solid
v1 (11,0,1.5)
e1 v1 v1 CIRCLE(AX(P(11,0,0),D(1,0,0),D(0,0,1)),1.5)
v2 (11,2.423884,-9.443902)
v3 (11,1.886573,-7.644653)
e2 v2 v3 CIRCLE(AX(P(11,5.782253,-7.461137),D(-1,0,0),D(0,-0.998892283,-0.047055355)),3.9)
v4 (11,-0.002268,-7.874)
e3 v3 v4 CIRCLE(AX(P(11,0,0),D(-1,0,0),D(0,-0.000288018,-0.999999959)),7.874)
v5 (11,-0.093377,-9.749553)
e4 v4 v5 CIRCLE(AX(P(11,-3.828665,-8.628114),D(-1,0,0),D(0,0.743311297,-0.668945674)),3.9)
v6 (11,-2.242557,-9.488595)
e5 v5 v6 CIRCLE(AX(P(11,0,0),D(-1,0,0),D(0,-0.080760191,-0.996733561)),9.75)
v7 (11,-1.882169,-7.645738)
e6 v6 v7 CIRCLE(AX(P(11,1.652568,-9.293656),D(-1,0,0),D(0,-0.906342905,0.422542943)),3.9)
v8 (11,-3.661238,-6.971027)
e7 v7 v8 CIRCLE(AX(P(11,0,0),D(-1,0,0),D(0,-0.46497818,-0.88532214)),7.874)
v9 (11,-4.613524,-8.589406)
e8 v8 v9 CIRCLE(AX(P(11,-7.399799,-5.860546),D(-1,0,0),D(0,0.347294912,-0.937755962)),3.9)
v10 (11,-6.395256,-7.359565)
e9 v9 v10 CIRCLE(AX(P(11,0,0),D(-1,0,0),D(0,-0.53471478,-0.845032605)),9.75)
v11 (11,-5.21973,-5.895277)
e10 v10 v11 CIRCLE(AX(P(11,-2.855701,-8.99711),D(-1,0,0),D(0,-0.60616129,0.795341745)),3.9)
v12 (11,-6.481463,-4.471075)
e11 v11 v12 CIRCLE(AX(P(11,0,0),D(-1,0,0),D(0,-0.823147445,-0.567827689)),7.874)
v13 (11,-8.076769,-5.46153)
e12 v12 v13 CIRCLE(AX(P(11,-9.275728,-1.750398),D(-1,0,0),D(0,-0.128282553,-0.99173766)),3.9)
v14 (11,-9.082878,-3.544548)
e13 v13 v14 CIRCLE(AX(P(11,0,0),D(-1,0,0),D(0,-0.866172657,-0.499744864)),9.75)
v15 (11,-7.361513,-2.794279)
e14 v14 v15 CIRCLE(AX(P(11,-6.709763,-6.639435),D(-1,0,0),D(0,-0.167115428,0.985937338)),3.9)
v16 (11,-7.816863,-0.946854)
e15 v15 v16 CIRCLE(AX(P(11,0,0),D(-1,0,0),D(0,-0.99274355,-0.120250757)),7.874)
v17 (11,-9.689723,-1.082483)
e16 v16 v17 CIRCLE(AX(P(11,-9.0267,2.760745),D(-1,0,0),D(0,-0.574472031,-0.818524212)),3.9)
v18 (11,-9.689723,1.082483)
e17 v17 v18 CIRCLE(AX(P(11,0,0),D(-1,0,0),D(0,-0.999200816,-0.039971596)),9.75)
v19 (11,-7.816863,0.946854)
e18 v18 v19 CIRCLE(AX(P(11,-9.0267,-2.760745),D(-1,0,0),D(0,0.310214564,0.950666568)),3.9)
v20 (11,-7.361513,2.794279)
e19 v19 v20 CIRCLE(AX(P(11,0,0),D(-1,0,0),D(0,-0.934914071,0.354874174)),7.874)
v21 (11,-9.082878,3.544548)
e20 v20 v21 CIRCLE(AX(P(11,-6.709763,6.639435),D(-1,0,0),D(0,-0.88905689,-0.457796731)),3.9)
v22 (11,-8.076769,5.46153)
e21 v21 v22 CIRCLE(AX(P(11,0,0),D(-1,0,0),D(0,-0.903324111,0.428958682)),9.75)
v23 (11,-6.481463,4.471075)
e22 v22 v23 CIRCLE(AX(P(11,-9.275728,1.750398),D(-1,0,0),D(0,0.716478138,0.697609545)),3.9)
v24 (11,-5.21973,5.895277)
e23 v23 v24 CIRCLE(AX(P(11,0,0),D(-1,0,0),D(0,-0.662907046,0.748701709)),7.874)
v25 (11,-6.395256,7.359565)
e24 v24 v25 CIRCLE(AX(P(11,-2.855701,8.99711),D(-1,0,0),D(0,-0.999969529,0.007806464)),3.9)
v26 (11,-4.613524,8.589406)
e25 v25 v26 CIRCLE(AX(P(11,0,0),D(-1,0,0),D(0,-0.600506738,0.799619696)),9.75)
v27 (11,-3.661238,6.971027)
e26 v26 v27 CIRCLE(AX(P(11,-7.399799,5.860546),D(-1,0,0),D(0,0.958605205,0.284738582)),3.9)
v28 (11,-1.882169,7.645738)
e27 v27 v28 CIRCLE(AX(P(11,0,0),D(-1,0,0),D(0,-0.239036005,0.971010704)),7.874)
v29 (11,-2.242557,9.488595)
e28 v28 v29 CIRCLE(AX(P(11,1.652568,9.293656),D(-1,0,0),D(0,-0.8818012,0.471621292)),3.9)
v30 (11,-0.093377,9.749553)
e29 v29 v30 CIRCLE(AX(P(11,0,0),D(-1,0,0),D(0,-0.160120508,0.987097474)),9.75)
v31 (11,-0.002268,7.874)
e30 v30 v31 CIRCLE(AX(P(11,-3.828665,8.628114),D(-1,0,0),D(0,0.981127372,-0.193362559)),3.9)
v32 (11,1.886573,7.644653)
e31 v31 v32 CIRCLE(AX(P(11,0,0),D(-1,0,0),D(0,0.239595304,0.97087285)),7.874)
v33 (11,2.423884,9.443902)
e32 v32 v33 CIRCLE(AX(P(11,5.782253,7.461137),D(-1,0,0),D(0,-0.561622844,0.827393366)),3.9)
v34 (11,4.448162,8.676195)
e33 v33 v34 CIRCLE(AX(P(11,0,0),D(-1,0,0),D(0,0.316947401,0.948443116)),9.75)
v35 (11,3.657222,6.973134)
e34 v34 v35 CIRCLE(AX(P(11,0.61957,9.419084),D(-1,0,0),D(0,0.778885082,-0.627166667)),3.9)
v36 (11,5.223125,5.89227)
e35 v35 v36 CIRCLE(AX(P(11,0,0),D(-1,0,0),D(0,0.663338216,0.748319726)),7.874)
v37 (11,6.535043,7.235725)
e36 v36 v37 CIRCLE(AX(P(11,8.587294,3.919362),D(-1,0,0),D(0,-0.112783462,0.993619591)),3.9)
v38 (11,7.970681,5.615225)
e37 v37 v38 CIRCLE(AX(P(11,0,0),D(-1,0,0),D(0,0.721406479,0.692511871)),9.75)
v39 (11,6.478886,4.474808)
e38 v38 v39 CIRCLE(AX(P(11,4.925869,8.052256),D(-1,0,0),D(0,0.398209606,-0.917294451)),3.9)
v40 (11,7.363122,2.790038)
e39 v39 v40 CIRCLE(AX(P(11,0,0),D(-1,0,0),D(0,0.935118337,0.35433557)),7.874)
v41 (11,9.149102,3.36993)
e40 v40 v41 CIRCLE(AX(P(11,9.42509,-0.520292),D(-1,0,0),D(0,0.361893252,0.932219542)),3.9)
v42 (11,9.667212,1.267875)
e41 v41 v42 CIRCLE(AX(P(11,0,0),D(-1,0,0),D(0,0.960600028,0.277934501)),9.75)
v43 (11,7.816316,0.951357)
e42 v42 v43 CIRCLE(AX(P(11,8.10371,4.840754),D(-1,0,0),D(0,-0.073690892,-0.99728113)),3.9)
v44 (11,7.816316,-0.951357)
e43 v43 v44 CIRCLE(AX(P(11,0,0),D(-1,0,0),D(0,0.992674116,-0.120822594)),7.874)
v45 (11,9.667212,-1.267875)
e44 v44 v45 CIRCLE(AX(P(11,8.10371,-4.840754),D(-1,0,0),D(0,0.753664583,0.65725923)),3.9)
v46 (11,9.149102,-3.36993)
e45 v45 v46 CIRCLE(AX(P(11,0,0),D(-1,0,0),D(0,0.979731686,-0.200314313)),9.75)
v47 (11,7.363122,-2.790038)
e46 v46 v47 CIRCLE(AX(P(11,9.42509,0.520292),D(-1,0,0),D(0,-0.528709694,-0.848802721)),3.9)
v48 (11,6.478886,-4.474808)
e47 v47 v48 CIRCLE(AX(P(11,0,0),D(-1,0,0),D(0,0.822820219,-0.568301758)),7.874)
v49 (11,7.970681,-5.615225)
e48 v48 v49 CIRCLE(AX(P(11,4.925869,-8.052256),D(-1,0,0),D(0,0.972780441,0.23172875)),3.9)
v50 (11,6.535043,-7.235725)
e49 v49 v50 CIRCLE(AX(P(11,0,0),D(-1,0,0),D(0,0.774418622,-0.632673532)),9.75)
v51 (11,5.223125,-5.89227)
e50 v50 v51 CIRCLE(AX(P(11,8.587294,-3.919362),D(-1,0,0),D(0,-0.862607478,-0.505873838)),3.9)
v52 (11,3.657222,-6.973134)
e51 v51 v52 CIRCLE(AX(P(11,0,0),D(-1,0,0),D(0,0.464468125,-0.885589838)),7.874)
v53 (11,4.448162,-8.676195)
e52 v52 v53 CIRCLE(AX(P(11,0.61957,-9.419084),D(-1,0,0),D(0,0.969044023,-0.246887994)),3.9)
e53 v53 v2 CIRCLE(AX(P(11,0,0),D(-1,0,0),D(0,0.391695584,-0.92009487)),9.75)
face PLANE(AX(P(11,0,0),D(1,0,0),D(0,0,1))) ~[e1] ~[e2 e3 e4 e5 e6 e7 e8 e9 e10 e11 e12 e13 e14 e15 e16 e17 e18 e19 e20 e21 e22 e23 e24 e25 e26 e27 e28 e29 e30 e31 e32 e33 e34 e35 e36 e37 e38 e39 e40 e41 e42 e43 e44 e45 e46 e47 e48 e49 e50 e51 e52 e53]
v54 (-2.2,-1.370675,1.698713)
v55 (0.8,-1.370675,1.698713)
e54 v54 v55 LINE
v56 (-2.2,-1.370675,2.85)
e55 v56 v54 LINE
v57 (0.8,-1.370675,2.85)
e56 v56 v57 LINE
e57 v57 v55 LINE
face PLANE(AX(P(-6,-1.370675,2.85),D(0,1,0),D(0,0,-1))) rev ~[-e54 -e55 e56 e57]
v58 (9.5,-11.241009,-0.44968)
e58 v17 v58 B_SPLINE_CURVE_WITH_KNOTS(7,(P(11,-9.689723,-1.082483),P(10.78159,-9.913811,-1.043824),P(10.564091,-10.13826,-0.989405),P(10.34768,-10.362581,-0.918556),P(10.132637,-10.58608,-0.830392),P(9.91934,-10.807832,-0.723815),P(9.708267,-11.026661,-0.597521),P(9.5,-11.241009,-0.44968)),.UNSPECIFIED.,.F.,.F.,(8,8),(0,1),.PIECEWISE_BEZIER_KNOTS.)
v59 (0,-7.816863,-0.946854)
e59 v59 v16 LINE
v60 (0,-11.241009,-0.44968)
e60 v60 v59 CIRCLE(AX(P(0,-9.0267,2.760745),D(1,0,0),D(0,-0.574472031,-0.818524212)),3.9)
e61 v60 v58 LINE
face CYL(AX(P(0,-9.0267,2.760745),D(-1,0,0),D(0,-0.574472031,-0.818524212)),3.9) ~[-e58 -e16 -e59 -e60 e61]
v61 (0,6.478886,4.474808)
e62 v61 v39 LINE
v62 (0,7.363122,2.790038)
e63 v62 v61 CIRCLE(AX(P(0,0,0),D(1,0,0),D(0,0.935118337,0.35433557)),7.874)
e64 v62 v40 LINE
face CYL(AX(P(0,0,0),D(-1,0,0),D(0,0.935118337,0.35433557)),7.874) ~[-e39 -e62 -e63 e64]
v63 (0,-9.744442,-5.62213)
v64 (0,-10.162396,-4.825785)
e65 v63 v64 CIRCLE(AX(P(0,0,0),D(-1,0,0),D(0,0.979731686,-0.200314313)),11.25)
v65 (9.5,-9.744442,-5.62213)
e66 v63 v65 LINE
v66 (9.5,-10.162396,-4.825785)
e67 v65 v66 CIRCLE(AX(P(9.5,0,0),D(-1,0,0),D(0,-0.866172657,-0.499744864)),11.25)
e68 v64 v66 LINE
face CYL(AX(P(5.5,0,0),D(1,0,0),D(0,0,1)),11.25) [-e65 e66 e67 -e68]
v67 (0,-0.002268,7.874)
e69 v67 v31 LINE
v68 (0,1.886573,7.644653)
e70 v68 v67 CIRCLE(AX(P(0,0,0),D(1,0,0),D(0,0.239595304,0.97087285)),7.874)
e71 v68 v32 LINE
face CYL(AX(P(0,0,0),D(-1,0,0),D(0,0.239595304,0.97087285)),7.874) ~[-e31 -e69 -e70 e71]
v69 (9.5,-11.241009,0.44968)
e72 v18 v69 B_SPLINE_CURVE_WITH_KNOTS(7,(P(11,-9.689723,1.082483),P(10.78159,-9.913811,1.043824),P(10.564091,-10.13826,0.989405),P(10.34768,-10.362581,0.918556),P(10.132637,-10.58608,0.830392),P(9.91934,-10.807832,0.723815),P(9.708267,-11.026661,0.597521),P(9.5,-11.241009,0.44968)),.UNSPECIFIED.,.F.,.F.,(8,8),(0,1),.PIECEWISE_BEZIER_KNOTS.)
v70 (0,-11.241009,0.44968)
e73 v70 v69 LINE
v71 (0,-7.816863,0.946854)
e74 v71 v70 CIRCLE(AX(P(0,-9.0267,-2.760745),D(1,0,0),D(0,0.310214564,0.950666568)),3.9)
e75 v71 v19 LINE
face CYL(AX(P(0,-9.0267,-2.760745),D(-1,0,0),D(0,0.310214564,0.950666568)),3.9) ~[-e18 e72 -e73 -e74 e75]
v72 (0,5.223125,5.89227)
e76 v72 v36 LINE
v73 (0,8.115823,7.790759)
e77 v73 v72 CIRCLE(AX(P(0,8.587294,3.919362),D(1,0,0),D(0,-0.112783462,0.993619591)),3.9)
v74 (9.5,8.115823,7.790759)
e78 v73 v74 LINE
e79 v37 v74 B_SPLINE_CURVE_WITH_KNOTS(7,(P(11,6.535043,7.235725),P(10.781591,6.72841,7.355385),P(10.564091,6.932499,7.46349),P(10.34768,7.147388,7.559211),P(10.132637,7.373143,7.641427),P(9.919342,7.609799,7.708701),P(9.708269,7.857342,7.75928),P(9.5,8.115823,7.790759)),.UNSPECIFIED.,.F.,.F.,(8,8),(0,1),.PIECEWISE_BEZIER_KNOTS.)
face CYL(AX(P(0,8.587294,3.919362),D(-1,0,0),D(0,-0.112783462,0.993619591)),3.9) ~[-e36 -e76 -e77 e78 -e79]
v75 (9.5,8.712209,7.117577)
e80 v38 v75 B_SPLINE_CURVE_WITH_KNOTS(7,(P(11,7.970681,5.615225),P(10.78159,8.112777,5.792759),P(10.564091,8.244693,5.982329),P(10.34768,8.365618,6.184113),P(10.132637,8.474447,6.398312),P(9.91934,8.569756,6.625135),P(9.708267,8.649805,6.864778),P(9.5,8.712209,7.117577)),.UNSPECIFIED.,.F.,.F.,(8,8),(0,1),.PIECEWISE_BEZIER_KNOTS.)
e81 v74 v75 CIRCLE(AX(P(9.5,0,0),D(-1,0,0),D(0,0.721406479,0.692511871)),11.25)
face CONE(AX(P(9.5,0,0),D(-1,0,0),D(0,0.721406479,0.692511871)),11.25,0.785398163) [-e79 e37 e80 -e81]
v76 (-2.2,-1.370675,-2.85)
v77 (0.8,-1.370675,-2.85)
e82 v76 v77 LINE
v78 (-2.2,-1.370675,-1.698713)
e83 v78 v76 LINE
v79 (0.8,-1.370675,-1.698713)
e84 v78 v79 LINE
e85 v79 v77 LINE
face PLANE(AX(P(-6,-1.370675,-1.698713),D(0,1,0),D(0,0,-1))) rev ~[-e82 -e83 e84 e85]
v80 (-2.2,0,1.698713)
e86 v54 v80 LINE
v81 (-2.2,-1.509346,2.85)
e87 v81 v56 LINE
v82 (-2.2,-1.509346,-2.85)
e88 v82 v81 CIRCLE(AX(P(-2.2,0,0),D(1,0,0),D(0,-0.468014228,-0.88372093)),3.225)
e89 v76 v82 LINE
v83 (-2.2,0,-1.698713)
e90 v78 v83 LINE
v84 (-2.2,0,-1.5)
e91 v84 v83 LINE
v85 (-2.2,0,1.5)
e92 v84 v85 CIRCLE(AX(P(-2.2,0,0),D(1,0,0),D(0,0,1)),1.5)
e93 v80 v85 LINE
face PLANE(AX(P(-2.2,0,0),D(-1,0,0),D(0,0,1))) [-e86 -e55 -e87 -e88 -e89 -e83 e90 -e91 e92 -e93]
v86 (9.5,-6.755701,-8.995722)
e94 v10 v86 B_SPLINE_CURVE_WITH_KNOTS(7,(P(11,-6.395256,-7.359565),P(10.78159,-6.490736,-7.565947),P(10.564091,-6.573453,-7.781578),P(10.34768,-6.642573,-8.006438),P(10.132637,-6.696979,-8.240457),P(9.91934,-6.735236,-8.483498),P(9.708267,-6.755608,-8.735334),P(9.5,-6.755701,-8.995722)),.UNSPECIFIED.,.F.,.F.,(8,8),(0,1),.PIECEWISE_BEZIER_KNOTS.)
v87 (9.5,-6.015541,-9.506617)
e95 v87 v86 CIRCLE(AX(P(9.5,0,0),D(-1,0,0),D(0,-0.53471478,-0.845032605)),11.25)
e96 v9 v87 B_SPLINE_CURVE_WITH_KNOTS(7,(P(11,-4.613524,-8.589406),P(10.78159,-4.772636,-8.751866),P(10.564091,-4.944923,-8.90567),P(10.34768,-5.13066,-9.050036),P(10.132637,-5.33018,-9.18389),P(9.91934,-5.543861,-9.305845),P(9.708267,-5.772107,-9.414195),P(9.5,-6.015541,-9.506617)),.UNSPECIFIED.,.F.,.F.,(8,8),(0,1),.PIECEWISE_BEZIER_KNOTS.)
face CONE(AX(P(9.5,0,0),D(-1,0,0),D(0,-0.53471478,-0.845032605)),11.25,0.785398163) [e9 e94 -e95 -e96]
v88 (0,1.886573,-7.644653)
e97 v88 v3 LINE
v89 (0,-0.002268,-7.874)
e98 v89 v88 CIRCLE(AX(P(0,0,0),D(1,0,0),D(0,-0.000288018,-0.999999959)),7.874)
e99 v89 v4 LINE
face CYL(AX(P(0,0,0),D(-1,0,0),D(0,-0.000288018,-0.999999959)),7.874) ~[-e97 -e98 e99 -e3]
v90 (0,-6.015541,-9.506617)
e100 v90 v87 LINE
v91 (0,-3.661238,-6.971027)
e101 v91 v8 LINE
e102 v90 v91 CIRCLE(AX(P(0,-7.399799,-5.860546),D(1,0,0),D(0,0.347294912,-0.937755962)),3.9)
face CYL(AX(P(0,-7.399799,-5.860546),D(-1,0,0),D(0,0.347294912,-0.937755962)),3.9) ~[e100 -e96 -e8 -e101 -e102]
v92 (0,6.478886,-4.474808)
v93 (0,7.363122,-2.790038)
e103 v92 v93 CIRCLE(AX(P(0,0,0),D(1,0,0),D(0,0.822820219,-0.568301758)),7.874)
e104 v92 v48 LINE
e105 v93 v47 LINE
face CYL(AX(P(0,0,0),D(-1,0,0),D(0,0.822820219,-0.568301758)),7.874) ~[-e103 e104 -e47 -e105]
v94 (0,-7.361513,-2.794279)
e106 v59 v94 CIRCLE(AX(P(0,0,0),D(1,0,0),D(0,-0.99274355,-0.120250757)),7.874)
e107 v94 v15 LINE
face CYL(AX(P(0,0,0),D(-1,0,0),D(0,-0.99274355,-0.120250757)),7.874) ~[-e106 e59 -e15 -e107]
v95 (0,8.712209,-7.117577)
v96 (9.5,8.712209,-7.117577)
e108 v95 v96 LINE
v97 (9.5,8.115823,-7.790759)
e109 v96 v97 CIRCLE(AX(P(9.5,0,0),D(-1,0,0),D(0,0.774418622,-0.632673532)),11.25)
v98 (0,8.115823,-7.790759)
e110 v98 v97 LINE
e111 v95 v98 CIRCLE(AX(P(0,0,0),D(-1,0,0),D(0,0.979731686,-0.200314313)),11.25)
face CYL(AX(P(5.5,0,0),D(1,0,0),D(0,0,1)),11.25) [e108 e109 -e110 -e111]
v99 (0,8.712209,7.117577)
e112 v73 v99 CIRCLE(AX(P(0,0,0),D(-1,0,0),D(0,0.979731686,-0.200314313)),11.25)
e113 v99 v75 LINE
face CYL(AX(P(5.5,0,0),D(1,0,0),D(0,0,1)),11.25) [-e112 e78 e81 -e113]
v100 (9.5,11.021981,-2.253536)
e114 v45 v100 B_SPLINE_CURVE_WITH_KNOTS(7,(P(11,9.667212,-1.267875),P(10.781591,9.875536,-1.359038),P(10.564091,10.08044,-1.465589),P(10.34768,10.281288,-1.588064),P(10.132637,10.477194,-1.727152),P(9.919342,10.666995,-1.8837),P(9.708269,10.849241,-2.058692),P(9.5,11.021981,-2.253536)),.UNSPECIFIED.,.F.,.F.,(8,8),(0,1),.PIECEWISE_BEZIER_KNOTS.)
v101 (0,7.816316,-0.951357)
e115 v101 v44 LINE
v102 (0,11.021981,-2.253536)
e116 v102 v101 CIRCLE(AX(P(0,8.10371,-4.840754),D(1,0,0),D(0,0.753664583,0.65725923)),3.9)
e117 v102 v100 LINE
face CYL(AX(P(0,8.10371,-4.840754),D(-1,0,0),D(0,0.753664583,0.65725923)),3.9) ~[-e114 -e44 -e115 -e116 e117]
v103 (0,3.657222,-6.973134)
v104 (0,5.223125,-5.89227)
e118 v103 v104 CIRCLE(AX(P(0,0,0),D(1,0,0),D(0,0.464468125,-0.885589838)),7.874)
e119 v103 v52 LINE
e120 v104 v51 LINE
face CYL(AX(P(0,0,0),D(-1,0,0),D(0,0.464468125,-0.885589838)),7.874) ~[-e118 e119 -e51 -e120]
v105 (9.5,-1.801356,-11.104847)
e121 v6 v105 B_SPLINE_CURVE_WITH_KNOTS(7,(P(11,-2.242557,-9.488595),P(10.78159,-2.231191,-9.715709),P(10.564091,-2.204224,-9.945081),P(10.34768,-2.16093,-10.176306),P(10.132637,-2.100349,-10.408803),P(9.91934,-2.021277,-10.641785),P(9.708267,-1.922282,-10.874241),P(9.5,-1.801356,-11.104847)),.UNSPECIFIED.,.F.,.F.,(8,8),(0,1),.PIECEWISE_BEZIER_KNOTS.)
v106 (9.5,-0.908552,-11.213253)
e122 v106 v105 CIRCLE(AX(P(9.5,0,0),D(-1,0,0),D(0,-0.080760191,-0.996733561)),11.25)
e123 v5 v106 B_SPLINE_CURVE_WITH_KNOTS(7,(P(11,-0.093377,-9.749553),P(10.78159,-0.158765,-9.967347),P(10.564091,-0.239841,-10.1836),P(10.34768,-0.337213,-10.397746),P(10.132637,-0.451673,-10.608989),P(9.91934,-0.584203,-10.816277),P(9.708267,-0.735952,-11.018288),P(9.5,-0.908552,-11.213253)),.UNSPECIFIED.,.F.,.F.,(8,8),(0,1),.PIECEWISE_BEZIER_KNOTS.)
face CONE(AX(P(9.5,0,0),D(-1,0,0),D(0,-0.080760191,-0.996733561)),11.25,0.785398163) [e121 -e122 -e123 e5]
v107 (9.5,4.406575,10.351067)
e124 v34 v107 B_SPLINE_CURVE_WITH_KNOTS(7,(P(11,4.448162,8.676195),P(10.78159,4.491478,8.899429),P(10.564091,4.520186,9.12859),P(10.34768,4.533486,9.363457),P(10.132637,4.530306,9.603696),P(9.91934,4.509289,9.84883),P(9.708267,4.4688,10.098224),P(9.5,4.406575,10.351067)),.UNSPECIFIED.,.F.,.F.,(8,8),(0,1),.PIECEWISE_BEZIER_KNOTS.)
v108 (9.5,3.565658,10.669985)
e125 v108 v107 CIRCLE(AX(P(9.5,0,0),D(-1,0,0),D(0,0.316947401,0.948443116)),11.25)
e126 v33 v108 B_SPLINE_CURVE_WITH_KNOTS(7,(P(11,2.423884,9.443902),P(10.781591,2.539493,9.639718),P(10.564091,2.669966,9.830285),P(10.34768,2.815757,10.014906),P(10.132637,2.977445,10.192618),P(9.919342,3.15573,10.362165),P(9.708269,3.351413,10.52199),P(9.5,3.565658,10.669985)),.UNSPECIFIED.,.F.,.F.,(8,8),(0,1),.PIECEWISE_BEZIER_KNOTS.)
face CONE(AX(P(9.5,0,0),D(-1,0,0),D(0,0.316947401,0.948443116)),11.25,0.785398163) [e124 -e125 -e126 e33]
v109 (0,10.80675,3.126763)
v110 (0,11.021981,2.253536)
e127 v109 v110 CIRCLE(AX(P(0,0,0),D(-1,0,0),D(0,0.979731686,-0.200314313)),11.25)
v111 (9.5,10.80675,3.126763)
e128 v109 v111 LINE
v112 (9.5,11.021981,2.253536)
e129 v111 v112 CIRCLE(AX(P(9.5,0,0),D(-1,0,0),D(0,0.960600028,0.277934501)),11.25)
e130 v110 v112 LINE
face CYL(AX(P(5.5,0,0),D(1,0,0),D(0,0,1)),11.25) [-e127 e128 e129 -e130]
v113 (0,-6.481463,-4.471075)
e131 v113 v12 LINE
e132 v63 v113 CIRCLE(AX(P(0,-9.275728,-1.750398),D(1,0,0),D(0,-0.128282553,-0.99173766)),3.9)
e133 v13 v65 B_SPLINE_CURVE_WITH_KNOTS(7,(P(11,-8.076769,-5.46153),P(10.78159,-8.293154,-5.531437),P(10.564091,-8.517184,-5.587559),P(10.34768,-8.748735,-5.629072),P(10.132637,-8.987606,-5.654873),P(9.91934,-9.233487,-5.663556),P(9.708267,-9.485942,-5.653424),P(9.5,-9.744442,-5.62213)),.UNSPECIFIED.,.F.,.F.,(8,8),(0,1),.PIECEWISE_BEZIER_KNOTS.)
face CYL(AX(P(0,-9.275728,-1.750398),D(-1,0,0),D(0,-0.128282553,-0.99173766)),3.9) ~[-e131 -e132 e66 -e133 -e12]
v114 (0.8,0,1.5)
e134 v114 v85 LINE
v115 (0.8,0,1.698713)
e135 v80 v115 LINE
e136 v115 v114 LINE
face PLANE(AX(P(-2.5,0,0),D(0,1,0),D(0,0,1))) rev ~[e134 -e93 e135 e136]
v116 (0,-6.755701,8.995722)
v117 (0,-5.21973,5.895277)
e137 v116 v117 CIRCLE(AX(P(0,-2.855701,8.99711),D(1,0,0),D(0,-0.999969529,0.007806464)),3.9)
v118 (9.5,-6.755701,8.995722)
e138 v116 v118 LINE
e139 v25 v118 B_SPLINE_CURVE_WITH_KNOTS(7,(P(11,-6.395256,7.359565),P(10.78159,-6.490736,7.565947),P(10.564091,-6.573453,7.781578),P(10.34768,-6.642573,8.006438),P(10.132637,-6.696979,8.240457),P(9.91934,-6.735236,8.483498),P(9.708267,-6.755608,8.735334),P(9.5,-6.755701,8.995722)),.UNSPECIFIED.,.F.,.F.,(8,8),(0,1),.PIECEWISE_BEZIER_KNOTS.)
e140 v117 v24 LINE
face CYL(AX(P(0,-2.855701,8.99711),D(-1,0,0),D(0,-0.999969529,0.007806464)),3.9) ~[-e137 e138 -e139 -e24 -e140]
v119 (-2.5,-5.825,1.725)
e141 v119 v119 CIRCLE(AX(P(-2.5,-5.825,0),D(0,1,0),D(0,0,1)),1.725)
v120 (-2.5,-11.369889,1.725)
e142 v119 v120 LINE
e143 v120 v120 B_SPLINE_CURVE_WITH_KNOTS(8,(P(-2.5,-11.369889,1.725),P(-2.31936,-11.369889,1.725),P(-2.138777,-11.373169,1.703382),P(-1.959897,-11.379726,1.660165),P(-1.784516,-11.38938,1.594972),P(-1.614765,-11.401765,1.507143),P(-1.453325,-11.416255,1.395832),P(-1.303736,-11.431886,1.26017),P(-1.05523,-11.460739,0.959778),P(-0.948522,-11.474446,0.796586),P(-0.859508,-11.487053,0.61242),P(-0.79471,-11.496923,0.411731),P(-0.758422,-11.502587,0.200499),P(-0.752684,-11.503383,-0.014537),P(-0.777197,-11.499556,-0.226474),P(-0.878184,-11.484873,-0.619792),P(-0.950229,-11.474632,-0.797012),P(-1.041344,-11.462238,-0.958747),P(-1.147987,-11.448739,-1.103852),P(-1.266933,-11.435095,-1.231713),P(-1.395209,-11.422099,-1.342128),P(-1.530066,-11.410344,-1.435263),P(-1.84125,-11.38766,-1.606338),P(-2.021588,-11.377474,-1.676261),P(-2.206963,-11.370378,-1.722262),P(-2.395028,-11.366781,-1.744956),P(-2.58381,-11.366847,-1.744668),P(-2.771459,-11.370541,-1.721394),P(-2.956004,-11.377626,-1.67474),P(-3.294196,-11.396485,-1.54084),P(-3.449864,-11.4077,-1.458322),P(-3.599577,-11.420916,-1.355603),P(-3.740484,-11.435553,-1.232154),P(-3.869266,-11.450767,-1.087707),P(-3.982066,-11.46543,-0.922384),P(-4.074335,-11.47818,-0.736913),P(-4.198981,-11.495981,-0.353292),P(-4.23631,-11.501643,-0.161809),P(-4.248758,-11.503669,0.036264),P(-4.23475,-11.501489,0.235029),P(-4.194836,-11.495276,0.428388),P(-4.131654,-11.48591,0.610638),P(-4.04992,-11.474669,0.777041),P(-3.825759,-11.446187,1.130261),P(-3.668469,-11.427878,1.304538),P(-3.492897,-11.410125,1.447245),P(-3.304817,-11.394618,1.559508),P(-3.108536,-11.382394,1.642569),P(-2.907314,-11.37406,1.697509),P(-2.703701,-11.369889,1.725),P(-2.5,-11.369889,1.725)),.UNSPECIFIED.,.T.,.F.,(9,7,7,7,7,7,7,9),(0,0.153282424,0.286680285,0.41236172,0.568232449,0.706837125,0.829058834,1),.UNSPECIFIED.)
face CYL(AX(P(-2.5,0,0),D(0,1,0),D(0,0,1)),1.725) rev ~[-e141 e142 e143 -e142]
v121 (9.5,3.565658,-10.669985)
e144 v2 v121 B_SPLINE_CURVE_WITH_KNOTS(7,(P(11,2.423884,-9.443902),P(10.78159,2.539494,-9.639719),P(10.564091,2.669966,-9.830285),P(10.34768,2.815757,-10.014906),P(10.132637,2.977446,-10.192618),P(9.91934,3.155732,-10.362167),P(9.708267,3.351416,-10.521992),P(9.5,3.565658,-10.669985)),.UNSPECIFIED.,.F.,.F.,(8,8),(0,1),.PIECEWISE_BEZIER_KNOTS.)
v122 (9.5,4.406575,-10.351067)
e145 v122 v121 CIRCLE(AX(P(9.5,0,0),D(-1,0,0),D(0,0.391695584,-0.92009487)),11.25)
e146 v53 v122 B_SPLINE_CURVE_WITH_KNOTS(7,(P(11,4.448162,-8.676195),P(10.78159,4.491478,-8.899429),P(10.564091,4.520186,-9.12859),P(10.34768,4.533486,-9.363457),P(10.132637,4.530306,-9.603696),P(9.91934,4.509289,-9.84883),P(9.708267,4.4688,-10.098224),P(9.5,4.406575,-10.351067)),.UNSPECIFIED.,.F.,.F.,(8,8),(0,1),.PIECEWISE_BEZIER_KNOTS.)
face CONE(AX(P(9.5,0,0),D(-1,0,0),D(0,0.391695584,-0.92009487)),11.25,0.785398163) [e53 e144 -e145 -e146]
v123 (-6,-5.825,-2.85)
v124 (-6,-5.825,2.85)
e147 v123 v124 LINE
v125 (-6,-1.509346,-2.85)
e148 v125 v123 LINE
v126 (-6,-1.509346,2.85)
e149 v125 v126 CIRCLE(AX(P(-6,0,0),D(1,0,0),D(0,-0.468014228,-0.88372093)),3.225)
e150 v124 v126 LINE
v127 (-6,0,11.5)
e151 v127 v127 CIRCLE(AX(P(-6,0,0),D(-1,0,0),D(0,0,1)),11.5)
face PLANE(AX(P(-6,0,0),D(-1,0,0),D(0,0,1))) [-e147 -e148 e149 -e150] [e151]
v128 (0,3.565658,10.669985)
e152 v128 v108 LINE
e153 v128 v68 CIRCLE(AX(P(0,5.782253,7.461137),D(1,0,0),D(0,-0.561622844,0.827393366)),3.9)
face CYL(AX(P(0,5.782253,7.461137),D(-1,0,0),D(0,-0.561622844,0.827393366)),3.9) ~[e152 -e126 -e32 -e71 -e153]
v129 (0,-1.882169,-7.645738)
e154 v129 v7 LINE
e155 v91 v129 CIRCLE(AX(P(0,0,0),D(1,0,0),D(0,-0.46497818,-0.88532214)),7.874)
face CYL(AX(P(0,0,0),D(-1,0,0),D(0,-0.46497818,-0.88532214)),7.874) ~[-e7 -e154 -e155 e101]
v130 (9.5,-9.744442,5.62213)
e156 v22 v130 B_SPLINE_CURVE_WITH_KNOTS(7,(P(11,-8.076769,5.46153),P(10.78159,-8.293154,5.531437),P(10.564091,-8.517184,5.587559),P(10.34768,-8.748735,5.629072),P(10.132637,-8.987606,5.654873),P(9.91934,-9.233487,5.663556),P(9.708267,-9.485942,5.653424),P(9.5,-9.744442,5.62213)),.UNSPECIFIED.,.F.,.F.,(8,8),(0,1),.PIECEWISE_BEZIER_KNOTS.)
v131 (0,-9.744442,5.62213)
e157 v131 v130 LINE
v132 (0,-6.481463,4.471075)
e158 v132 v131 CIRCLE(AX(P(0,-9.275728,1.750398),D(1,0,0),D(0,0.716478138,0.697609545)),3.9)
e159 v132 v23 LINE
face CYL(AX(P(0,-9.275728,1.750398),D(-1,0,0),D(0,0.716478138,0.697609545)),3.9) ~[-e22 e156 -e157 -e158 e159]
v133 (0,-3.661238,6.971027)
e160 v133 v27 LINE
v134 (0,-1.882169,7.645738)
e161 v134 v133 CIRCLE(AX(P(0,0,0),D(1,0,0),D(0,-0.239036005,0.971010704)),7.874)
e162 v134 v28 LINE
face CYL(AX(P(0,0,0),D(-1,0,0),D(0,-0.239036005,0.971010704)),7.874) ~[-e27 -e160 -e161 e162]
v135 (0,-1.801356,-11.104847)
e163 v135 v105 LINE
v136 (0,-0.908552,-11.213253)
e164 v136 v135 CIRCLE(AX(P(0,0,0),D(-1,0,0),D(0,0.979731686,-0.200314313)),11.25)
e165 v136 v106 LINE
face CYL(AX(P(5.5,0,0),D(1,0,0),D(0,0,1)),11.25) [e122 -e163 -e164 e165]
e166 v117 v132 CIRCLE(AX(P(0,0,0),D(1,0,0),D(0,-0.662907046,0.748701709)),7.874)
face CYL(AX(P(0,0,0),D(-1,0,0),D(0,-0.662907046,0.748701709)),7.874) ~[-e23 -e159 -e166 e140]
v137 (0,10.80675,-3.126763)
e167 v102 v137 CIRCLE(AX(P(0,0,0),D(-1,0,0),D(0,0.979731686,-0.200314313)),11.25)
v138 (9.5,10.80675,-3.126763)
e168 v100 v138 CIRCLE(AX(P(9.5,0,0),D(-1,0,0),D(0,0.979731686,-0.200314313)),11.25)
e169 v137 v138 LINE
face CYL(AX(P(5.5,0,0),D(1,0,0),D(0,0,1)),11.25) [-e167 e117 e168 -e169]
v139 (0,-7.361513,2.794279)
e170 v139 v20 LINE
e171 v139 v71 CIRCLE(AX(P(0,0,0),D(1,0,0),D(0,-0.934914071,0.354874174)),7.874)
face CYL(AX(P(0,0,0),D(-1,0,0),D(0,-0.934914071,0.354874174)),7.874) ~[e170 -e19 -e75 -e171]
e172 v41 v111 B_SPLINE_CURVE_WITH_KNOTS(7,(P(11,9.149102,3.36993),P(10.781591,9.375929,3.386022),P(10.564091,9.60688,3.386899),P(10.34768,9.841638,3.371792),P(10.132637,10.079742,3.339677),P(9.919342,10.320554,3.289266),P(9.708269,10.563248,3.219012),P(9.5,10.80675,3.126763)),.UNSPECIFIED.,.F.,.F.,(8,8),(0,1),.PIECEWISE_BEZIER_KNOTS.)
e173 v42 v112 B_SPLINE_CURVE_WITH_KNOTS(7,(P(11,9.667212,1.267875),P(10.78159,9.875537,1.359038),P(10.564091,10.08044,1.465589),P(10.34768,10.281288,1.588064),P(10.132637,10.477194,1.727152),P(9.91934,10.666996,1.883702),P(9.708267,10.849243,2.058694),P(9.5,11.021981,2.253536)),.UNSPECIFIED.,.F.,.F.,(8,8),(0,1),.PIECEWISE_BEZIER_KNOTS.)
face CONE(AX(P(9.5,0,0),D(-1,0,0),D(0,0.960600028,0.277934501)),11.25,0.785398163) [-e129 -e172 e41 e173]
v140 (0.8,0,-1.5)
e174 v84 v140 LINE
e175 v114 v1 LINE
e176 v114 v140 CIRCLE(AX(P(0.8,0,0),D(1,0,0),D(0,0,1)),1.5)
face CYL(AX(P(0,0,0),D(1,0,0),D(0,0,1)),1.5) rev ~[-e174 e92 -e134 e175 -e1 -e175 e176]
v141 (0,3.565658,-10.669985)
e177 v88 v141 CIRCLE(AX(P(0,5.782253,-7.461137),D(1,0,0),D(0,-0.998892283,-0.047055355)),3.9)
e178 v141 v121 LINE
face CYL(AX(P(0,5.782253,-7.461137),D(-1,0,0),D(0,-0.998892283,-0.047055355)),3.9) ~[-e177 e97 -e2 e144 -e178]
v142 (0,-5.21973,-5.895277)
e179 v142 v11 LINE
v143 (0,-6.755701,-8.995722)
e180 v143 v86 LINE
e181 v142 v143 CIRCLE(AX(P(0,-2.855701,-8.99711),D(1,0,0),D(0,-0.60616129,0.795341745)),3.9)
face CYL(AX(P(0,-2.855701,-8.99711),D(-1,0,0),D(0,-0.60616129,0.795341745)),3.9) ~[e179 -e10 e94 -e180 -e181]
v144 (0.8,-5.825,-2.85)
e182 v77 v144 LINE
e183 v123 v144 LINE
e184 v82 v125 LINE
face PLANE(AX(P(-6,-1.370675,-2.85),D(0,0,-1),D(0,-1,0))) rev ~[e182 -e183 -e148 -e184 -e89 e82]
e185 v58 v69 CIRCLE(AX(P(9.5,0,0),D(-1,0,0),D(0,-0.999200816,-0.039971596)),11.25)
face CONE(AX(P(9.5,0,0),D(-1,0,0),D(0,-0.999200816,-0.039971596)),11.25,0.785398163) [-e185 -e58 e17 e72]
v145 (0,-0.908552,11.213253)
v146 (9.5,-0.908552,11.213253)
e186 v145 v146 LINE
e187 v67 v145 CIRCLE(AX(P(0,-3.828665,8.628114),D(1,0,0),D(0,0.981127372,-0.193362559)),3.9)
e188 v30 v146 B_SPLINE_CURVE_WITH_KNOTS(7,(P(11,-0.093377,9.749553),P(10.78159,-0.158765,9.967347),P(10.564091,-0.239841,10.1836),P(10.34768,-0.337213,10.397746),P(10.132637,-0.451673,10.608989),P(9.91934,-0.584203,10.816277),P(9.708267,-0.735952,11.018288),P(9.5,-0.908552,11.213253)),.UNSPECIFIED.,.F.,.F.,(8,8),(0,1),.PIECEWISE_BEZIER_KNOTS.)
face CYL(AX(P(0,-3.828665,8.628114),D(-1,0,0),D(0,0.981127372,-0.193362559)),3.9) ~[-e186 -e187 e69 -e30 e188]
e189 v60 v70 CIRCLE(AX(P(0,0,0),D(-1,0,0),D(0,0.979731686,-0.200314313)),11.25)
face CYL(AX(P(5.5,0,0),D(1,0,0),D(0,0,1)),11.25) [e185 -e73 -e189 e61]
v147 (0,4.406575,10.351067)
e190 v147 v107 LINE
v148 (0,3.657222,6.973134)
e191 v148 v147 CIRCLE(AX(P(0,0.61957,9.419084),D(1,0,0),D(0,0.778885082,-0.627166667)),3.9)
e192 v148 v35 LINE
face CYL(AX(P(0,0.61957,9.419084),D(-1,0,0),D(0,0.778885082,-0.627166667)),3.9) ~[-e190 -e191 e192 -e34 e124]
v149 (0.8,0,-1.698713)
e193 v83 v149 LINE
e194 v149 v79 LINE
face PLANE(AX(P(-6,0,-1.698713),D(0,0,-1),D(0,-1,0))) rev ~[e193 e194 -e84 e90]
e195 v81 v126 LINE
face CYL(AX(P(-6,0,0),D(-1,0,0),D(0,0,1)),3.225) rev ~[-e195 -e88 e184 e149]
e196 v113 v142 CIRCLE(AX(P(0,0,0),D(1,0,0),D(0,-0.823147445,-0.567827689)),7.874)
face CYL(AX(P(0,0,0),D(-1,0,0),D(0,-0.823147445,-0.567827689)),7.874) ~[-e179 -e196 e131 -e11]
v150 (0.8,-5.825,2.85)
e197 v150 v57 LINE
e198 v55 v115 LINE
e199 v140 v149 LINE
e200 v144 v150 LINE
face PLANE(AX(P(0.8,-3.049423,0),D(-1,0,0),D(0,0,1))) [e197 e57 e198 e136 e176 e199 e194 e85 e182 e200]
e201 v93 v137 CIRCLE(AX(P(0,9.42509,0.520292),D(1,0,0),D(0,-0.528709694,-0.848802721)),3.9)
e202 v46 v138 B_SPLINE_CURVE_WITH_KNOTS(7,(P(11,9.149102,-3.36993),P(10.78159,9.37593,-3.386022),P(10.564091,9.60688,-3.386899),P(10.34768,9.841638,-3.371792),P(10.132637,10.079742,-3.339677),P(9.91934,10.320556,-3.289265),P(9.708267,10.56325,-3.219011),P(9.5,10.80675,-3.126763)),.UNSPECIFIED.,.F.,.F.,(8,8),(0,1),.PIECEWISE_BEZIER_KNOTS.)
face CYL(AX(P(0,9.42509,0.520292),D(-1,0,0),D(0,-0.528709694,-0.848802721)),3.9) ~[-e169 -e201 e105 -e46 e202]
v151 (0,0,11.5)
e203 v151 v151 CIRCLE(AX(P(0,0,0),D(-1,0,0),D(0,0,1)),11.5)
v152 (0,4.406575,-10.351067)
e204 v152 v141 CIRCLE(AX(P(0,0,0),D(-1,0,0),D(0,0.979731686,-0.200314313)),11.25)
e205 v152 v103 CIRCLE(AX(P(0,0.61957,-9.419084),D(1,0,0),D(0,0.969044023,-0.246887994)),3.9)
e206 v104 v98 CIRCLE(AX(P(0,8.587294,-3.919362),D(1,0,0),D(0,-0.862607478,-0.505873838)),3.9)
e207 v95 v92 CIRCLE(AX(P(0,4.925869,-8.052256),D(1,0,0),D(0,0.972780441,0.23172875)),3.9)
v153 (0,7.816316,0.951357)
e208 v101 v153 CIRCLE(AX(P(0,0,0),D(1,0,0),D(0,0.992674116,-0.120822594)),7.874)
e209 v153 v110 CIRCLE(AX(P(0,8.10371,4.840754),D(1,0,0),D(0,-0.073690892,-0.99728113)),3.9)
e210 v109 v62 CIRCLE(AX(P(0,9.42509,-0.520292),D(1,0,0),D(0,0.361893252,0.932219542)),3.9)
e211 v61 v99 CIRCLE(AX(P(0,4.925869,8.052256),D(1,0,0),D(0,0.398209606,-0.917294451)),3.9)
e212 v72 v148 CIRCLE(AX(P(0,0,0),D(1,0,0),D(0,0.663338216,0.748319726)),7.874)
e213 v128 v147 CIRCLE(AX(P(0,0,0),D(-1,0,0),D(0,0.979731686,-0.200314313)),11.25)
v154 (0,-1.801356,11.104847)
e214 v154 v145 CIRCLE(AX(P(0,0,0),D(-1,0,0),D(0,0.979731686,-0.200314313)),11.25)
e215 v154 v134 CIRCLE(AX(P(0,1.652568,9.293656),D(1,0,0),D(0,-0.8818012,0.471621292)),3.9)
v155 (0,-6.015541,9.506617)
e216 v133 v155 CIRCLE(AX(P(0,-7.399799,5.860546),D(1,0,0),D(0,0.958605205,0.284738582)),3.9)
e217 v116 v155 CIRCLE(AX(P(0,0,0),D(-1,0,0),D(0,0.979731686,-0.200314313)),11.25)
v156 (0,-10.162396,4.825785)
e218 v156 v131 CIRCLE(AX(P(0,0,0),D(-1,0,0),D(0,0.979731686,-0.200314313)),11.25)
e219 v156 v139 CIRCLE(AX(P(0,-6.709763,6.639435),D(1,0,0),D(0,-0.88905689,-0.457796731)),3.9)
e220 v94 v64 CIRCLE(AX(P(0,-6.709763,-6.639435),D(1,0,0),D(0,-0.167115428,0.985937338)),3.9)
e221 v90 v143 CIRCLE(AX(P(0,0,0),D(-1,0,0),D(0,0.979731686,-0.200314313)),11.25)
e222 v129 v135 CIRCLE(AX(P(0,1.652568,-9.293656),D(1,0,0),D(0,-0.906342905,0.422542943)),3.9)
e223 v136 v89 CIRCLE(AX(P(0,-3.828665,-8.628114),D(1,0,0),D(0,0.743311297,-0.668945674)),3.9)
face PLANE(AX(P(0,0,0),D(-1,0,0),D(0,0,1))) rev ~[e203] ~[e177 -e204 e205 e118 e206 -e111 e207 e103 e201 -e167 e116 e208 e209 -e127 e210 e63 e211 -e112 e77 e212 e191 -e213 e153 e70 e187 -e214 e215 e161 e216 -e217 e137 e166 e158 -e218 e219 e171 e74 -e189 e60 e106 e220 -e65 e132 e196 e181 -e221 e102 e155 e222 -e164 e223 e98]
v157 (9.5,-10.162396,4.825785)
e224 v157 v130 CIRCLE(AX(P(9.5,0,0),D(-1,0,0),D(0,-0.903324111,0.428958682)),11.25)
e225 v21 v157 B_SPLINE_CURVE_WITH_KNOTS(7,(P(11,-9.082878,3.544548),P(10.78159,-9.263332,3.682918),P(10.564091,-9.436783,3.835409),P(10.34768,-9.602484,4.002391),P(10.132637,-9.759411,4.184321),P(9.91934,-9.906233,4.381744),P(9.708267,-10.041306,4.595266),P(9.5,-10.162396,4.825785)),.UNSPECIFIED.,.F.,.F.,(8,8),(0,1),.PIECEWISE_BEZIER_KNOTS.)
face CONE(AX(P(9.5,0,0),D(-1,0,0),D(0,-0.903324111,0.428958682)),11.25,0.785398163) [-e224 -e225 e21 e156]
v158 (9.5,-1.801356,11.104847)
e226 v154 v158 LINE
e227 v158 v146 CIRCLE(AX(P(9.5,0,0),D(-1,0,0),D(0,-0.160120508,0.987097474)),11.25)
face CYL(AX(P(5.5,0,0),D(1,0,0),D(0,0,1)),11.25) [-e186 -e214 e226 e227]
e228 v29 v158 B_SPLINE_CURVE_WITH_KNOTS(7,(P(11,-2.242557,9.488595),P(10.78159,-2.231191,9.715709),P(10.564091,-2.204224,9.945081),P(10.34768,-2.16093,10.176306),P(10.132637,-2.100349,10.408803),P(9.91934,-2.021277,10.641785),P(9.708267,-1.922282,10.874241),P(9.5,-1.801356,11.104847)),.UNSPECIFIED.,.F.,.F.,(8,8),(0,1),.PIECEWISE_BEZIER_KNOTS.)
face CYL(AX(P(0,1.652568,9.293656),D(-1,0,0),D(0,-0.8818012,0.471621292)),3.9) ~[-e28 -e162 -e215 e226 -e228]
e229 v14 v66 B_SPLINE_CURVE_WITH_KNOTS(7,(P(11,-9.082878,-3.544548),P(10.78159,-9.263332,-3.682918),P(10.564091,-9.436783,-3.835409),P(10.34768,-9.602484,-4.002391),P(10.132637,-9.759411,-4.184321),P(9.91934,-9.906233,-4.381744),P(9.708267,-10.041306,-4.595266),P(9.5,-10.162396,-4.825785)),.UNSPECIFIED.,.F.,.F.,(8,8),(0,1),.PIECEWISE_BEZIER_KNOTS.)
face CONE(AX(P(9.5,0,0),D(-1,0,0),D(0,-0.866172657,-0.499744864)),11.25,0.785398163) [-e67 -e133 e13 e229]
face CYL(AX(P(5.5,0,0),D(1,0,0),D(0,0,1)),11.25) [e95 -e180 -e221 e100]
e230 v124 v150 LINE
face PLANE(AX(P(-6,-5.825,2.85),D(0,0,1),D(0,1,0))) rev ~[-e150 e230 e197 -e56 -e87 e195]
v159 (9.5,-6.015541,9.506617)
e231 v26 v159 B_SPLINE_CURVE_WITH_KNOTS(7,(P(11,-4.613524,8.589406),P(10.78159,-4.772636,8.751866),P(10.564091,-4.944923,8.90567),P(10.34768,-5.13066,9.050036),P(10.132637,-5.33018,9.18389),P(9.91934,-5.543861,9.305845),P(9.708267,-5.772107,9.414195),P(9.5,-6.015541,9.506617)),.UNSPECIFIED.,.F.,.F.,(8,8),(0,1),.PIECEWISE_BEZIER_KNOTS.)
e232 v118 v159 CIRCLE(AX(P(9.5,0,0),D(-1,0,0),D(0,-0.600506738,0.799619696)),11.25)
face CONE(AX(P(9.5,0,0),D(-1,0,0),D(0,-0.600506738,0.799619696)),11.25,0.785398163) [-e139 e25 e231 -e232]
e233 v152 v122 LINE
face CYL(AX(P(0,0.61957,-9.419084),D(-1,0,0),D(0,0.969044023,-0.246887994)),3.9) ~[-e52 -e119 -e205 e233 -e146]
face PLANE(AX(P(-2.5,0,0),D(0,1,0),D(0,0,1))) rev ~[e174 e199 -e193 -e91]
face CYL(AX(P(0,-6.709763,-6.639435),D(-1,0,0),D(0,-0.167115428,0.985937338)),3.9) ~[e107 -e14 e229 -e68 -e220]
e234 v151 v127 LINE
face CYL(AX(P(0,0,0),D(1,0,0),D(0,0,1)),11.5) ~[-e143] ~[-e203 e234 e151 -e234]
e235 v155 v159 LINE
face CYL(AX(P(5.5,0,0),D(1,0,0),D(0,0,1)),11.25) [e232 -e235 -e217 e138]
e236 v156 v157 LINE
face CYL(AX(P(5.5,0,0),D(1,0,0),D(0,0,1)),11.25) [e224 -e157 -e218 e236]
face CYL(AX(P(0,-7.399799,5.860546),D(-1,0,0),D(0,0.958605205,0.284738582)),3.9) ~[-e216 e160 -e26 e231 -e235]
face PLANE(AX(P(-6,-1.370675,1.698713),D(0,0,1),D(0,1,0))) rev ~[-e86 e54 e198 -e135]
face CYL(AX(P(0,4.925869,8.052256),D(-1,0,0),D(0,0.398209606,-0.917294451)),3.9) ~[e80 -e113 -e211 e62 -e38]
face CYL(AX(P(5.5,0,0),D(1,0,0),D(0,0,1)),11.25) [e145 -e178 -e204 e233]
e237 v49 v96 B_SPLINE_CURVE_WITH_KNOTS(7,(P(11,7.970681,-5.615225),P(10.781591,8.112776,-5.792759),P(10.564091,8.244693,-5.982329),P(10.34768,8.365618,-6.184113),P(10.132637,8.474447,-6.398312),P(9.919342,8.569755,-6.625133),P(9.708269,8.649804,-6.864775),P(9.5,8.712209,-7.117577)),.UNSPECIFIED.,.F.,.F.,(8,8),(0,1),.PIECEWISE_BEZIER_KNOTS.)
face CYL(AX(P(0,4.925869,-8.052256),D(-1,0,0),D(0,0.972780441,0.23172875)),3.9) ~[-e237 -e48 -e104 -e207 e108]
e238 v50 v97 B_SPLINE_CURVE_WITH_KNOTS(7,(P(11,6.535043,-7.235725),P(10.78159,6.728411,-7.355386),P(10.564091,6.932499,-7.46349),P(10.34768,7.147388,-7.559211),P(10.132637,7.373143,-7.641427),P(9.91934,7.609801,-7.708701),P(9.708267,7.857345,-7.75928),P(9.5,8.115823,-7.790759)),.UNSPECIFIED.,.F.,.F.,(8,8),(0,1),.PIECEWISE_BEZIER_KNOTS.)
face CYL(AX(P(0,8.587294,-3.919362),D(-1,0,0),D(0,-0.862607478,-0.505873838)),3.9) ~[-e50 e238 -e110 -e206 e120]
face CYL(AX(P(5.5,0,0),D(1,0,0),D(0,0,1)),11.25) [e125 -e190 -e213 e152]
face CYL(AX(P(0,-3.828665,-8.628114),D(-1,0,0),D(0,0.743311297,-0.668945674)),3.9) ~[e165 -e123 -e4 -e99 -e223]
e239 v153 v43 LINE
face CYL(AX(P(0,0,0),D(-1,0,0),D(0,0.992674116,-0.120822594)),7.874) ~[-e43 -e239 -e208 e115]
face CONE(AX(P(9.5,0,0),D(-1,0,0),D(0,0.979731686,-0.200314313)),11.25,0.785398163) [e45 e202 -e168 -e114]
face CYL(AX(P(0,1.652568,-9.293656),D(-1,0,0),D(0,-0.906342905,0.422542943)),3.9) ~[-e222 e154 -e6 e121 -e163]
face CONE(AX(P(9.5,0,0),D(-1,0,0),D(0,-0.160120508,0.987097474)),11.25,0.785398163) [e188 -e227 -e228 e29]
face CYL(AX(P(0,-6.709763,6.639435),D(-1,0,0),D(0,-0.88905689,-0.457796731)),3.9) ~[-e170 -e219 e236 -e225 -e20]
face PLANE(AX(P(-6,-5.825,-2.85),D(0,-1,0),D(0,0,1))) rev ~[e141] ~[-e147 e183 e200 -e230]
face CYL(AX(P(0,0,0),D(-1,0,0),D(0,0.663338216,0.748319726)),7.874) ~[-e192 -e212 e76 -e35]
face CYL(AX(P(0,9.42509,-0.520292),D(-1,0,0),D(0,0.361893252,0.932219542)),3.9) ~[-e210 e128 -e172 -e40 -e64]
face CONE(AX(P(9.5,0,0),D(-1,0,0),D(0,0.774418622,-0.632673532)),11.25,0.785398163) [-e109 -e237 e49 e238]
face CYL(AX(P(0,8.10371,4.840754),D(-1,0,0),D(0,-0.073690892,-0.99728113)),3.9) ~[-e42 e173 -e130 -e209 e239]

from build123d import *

# Parameters (mm, degrees)
BASPROSKE_W         = 11
BASPROSKE_H         = 11.25
TOOTHCUT_DEPTH      = 20.342311134
TEETHCUTS_COUNT     = 13
TEETHCUTS_ANGLE     = 332.307692308
BORSKE_R            = 1.5
BORE_DEPTH          = 50.0000508
SKETCH2_R           = 11.5
BOSS_EXTRUDE1_DEPTH = 6
SKETCH4_R           = 3.225
CUT_EXTRUDE1_DEPTH  = 3.8
CUT_EXTRUDE2_START  = -6
SKETCH5_R           = 1.5
CUT_EXTRUDE2_DEPTH  = 6
SKETCH6_R           = 1.725
CUT_EXTRUDE3_DEPTH  = 11.8
CUT_EXTRUDE4_DEPTH  = 6.8
CHAMFER1_SIZE       = 1.5


with BuildPart() as part:
    # BasProSke → Base-Revolve (revolve)
    with BuildSketch(Plane(origin=(0, 0, 0), x_dir=(1, 0, 0), z_dir=(0, 1, 0)), mode=Mode.PRIVATE) as base_revolve_sk:
        with Locations((5.5, 5.625)):
            Rectangle(BASPROSKE_W, BASPROSKE_H)
    revolve(base_revolve_sk.sketch.rotate(Axis((-10, 0, 0), (1, 0, 0)), 180), axis=Axis((-10, 0, 0), (1, 0, 0)))

    # TooCutSke → ToothCut (cut, through all)
    with BuildSketch(Plane(origin=(0, 0, 0), x_dir=(0, 0, -1), z_dir=(1, 0, 0))):
        with BuildLine():
            ThreePointArc((0.95135711, 7.81631599), (0, 7.874), (-0.95135711, 7.81631599))
            ThreePointArc((-0.95135711, 7.81631599), (-1.233506032, 9.58619675), (-2.277442519, 11.043002342))
            ThreePointArc((-2.277442519, 11.043002342), (0, 11.2754), (2.277442519, 11.043002342))
            ThreePointArc((2.277442519, 11.043002342), (1.233506032, 9.58619675), (0.95135711, 7.81631599))
        make_face()
    toothcut = extrude(amount=TOOTHCUT_DEPTH, mode=Mode.SUBTRACT)

    # TeethCuts: ToothCut ×13 about axis
    teethcuts_axis = Axis((-10, 0, 0), (1, 0, 0))
    for i in range(1, TEETHCUTS_COUNT):
        add(toothcut.rotate(teethcuts_axis, i * TEETHCUTS_ANGLE / (TEETHCUTS_COUNT - 1)), mode=Mode.SUBTRACT)

    # BorSke → Bore (cut, symmetric)
    with BuildSketch(Plane(origin=(0, 0, 0), x_dir=(0, 0, -1), z_dir=(1, 0, 0))):
        with Locations(Location((0, 0, 0), (0, 0, 180))):
            Circle(BORSKE_R)
    extrude(amount=BORE_DEPTH, both=True, mode=Mode.SUBTRACT)

    # Sketch2 → Boss-Extrude1 (add)
    with BuildSketch(Plane.ZY):
        Circle(SKETCH2_R)
    extrude(amount=BOSS_EXTRUDE1_DEPTH)

    # Sketch4 → Cut-Extrude1 (cut)
    with BuildSketch(Plane.ZY.offset(6)):
        Circle(SKETCH4_R)
    extrude(amount=-CUT_EXTRUDE1_DEPTH, mode=Mode.SUBTRACT)

    # Sketch5 → Cut-Extrude2 (cut)
    with BuildSketch(Plane.ZY.offset(6).offset(CUT_EXTRUDE2_START)):
        Circle(SKETCH5_R)
    extrude(amount=CUT_EXTRUDE2_DEPTH, mode=Mode.SUBTRACT)

    # Sketch6 → Cut-Extrude3 (cut)
    with BuildSketch(Plane(origin=(0, 0, 0), x_dir=(1, 0, 0), z_dir=(0, 1, 0))):
        with Locations(Location((-2.5, 0, 0), (0, 0, 270))):
            Circle(SKETCH6_R)
    extrude(amount=-CUT_EXTRUDE3_DEPTH, mode=Mode.SUBTRACT)

    # Sketch7 → Cut-Extrude4 (cut)
    with BuildSketch(Plane.ZY.offset(6)):
        Polygon((-2.85, -1.370675016), (-2.85, -5.825), (2.85, -5.825), (2.85, -1.370675016), (1.698712748, -1.370675016), (1.698712748, 0), (-1.698712748, 0), (-1.698712748, -1.370675016), align=None)
    extrude(amount=-CUT_EXTRUDE4_DEPTH, mode=Mode.SUBTRACT)

    # Chamfer1
    chamfer1_edges = [part.edges().sort_by_distance(p)[0] for p in [
        (11, -6.390728401, 9.258568491),
        (11, 10.923095446, -2.692301223),
        (11, -9.961380289, 5.228135685),
        (11, -11.25, 0),
        (11, -9.961380289, -5.228135685),
        (11, -6.390728401, -9.258568491),
        (11, -1.356037653, -11.167974834),
        (11, 3.989304979, -10.51893273),
        (11, 8.420745917, -7.460129905),
        (11, 10.923095446, 2.692301223),
        (11, 8.420745917, 7.460129905),
        (11, 3.989304979, 10.51893273),
        (11, -1.356037653, 11.167974834),
    ]]
    chamfer(chamfer1_edges, length=CHAMFER1_SIZE)


solid = part.part
